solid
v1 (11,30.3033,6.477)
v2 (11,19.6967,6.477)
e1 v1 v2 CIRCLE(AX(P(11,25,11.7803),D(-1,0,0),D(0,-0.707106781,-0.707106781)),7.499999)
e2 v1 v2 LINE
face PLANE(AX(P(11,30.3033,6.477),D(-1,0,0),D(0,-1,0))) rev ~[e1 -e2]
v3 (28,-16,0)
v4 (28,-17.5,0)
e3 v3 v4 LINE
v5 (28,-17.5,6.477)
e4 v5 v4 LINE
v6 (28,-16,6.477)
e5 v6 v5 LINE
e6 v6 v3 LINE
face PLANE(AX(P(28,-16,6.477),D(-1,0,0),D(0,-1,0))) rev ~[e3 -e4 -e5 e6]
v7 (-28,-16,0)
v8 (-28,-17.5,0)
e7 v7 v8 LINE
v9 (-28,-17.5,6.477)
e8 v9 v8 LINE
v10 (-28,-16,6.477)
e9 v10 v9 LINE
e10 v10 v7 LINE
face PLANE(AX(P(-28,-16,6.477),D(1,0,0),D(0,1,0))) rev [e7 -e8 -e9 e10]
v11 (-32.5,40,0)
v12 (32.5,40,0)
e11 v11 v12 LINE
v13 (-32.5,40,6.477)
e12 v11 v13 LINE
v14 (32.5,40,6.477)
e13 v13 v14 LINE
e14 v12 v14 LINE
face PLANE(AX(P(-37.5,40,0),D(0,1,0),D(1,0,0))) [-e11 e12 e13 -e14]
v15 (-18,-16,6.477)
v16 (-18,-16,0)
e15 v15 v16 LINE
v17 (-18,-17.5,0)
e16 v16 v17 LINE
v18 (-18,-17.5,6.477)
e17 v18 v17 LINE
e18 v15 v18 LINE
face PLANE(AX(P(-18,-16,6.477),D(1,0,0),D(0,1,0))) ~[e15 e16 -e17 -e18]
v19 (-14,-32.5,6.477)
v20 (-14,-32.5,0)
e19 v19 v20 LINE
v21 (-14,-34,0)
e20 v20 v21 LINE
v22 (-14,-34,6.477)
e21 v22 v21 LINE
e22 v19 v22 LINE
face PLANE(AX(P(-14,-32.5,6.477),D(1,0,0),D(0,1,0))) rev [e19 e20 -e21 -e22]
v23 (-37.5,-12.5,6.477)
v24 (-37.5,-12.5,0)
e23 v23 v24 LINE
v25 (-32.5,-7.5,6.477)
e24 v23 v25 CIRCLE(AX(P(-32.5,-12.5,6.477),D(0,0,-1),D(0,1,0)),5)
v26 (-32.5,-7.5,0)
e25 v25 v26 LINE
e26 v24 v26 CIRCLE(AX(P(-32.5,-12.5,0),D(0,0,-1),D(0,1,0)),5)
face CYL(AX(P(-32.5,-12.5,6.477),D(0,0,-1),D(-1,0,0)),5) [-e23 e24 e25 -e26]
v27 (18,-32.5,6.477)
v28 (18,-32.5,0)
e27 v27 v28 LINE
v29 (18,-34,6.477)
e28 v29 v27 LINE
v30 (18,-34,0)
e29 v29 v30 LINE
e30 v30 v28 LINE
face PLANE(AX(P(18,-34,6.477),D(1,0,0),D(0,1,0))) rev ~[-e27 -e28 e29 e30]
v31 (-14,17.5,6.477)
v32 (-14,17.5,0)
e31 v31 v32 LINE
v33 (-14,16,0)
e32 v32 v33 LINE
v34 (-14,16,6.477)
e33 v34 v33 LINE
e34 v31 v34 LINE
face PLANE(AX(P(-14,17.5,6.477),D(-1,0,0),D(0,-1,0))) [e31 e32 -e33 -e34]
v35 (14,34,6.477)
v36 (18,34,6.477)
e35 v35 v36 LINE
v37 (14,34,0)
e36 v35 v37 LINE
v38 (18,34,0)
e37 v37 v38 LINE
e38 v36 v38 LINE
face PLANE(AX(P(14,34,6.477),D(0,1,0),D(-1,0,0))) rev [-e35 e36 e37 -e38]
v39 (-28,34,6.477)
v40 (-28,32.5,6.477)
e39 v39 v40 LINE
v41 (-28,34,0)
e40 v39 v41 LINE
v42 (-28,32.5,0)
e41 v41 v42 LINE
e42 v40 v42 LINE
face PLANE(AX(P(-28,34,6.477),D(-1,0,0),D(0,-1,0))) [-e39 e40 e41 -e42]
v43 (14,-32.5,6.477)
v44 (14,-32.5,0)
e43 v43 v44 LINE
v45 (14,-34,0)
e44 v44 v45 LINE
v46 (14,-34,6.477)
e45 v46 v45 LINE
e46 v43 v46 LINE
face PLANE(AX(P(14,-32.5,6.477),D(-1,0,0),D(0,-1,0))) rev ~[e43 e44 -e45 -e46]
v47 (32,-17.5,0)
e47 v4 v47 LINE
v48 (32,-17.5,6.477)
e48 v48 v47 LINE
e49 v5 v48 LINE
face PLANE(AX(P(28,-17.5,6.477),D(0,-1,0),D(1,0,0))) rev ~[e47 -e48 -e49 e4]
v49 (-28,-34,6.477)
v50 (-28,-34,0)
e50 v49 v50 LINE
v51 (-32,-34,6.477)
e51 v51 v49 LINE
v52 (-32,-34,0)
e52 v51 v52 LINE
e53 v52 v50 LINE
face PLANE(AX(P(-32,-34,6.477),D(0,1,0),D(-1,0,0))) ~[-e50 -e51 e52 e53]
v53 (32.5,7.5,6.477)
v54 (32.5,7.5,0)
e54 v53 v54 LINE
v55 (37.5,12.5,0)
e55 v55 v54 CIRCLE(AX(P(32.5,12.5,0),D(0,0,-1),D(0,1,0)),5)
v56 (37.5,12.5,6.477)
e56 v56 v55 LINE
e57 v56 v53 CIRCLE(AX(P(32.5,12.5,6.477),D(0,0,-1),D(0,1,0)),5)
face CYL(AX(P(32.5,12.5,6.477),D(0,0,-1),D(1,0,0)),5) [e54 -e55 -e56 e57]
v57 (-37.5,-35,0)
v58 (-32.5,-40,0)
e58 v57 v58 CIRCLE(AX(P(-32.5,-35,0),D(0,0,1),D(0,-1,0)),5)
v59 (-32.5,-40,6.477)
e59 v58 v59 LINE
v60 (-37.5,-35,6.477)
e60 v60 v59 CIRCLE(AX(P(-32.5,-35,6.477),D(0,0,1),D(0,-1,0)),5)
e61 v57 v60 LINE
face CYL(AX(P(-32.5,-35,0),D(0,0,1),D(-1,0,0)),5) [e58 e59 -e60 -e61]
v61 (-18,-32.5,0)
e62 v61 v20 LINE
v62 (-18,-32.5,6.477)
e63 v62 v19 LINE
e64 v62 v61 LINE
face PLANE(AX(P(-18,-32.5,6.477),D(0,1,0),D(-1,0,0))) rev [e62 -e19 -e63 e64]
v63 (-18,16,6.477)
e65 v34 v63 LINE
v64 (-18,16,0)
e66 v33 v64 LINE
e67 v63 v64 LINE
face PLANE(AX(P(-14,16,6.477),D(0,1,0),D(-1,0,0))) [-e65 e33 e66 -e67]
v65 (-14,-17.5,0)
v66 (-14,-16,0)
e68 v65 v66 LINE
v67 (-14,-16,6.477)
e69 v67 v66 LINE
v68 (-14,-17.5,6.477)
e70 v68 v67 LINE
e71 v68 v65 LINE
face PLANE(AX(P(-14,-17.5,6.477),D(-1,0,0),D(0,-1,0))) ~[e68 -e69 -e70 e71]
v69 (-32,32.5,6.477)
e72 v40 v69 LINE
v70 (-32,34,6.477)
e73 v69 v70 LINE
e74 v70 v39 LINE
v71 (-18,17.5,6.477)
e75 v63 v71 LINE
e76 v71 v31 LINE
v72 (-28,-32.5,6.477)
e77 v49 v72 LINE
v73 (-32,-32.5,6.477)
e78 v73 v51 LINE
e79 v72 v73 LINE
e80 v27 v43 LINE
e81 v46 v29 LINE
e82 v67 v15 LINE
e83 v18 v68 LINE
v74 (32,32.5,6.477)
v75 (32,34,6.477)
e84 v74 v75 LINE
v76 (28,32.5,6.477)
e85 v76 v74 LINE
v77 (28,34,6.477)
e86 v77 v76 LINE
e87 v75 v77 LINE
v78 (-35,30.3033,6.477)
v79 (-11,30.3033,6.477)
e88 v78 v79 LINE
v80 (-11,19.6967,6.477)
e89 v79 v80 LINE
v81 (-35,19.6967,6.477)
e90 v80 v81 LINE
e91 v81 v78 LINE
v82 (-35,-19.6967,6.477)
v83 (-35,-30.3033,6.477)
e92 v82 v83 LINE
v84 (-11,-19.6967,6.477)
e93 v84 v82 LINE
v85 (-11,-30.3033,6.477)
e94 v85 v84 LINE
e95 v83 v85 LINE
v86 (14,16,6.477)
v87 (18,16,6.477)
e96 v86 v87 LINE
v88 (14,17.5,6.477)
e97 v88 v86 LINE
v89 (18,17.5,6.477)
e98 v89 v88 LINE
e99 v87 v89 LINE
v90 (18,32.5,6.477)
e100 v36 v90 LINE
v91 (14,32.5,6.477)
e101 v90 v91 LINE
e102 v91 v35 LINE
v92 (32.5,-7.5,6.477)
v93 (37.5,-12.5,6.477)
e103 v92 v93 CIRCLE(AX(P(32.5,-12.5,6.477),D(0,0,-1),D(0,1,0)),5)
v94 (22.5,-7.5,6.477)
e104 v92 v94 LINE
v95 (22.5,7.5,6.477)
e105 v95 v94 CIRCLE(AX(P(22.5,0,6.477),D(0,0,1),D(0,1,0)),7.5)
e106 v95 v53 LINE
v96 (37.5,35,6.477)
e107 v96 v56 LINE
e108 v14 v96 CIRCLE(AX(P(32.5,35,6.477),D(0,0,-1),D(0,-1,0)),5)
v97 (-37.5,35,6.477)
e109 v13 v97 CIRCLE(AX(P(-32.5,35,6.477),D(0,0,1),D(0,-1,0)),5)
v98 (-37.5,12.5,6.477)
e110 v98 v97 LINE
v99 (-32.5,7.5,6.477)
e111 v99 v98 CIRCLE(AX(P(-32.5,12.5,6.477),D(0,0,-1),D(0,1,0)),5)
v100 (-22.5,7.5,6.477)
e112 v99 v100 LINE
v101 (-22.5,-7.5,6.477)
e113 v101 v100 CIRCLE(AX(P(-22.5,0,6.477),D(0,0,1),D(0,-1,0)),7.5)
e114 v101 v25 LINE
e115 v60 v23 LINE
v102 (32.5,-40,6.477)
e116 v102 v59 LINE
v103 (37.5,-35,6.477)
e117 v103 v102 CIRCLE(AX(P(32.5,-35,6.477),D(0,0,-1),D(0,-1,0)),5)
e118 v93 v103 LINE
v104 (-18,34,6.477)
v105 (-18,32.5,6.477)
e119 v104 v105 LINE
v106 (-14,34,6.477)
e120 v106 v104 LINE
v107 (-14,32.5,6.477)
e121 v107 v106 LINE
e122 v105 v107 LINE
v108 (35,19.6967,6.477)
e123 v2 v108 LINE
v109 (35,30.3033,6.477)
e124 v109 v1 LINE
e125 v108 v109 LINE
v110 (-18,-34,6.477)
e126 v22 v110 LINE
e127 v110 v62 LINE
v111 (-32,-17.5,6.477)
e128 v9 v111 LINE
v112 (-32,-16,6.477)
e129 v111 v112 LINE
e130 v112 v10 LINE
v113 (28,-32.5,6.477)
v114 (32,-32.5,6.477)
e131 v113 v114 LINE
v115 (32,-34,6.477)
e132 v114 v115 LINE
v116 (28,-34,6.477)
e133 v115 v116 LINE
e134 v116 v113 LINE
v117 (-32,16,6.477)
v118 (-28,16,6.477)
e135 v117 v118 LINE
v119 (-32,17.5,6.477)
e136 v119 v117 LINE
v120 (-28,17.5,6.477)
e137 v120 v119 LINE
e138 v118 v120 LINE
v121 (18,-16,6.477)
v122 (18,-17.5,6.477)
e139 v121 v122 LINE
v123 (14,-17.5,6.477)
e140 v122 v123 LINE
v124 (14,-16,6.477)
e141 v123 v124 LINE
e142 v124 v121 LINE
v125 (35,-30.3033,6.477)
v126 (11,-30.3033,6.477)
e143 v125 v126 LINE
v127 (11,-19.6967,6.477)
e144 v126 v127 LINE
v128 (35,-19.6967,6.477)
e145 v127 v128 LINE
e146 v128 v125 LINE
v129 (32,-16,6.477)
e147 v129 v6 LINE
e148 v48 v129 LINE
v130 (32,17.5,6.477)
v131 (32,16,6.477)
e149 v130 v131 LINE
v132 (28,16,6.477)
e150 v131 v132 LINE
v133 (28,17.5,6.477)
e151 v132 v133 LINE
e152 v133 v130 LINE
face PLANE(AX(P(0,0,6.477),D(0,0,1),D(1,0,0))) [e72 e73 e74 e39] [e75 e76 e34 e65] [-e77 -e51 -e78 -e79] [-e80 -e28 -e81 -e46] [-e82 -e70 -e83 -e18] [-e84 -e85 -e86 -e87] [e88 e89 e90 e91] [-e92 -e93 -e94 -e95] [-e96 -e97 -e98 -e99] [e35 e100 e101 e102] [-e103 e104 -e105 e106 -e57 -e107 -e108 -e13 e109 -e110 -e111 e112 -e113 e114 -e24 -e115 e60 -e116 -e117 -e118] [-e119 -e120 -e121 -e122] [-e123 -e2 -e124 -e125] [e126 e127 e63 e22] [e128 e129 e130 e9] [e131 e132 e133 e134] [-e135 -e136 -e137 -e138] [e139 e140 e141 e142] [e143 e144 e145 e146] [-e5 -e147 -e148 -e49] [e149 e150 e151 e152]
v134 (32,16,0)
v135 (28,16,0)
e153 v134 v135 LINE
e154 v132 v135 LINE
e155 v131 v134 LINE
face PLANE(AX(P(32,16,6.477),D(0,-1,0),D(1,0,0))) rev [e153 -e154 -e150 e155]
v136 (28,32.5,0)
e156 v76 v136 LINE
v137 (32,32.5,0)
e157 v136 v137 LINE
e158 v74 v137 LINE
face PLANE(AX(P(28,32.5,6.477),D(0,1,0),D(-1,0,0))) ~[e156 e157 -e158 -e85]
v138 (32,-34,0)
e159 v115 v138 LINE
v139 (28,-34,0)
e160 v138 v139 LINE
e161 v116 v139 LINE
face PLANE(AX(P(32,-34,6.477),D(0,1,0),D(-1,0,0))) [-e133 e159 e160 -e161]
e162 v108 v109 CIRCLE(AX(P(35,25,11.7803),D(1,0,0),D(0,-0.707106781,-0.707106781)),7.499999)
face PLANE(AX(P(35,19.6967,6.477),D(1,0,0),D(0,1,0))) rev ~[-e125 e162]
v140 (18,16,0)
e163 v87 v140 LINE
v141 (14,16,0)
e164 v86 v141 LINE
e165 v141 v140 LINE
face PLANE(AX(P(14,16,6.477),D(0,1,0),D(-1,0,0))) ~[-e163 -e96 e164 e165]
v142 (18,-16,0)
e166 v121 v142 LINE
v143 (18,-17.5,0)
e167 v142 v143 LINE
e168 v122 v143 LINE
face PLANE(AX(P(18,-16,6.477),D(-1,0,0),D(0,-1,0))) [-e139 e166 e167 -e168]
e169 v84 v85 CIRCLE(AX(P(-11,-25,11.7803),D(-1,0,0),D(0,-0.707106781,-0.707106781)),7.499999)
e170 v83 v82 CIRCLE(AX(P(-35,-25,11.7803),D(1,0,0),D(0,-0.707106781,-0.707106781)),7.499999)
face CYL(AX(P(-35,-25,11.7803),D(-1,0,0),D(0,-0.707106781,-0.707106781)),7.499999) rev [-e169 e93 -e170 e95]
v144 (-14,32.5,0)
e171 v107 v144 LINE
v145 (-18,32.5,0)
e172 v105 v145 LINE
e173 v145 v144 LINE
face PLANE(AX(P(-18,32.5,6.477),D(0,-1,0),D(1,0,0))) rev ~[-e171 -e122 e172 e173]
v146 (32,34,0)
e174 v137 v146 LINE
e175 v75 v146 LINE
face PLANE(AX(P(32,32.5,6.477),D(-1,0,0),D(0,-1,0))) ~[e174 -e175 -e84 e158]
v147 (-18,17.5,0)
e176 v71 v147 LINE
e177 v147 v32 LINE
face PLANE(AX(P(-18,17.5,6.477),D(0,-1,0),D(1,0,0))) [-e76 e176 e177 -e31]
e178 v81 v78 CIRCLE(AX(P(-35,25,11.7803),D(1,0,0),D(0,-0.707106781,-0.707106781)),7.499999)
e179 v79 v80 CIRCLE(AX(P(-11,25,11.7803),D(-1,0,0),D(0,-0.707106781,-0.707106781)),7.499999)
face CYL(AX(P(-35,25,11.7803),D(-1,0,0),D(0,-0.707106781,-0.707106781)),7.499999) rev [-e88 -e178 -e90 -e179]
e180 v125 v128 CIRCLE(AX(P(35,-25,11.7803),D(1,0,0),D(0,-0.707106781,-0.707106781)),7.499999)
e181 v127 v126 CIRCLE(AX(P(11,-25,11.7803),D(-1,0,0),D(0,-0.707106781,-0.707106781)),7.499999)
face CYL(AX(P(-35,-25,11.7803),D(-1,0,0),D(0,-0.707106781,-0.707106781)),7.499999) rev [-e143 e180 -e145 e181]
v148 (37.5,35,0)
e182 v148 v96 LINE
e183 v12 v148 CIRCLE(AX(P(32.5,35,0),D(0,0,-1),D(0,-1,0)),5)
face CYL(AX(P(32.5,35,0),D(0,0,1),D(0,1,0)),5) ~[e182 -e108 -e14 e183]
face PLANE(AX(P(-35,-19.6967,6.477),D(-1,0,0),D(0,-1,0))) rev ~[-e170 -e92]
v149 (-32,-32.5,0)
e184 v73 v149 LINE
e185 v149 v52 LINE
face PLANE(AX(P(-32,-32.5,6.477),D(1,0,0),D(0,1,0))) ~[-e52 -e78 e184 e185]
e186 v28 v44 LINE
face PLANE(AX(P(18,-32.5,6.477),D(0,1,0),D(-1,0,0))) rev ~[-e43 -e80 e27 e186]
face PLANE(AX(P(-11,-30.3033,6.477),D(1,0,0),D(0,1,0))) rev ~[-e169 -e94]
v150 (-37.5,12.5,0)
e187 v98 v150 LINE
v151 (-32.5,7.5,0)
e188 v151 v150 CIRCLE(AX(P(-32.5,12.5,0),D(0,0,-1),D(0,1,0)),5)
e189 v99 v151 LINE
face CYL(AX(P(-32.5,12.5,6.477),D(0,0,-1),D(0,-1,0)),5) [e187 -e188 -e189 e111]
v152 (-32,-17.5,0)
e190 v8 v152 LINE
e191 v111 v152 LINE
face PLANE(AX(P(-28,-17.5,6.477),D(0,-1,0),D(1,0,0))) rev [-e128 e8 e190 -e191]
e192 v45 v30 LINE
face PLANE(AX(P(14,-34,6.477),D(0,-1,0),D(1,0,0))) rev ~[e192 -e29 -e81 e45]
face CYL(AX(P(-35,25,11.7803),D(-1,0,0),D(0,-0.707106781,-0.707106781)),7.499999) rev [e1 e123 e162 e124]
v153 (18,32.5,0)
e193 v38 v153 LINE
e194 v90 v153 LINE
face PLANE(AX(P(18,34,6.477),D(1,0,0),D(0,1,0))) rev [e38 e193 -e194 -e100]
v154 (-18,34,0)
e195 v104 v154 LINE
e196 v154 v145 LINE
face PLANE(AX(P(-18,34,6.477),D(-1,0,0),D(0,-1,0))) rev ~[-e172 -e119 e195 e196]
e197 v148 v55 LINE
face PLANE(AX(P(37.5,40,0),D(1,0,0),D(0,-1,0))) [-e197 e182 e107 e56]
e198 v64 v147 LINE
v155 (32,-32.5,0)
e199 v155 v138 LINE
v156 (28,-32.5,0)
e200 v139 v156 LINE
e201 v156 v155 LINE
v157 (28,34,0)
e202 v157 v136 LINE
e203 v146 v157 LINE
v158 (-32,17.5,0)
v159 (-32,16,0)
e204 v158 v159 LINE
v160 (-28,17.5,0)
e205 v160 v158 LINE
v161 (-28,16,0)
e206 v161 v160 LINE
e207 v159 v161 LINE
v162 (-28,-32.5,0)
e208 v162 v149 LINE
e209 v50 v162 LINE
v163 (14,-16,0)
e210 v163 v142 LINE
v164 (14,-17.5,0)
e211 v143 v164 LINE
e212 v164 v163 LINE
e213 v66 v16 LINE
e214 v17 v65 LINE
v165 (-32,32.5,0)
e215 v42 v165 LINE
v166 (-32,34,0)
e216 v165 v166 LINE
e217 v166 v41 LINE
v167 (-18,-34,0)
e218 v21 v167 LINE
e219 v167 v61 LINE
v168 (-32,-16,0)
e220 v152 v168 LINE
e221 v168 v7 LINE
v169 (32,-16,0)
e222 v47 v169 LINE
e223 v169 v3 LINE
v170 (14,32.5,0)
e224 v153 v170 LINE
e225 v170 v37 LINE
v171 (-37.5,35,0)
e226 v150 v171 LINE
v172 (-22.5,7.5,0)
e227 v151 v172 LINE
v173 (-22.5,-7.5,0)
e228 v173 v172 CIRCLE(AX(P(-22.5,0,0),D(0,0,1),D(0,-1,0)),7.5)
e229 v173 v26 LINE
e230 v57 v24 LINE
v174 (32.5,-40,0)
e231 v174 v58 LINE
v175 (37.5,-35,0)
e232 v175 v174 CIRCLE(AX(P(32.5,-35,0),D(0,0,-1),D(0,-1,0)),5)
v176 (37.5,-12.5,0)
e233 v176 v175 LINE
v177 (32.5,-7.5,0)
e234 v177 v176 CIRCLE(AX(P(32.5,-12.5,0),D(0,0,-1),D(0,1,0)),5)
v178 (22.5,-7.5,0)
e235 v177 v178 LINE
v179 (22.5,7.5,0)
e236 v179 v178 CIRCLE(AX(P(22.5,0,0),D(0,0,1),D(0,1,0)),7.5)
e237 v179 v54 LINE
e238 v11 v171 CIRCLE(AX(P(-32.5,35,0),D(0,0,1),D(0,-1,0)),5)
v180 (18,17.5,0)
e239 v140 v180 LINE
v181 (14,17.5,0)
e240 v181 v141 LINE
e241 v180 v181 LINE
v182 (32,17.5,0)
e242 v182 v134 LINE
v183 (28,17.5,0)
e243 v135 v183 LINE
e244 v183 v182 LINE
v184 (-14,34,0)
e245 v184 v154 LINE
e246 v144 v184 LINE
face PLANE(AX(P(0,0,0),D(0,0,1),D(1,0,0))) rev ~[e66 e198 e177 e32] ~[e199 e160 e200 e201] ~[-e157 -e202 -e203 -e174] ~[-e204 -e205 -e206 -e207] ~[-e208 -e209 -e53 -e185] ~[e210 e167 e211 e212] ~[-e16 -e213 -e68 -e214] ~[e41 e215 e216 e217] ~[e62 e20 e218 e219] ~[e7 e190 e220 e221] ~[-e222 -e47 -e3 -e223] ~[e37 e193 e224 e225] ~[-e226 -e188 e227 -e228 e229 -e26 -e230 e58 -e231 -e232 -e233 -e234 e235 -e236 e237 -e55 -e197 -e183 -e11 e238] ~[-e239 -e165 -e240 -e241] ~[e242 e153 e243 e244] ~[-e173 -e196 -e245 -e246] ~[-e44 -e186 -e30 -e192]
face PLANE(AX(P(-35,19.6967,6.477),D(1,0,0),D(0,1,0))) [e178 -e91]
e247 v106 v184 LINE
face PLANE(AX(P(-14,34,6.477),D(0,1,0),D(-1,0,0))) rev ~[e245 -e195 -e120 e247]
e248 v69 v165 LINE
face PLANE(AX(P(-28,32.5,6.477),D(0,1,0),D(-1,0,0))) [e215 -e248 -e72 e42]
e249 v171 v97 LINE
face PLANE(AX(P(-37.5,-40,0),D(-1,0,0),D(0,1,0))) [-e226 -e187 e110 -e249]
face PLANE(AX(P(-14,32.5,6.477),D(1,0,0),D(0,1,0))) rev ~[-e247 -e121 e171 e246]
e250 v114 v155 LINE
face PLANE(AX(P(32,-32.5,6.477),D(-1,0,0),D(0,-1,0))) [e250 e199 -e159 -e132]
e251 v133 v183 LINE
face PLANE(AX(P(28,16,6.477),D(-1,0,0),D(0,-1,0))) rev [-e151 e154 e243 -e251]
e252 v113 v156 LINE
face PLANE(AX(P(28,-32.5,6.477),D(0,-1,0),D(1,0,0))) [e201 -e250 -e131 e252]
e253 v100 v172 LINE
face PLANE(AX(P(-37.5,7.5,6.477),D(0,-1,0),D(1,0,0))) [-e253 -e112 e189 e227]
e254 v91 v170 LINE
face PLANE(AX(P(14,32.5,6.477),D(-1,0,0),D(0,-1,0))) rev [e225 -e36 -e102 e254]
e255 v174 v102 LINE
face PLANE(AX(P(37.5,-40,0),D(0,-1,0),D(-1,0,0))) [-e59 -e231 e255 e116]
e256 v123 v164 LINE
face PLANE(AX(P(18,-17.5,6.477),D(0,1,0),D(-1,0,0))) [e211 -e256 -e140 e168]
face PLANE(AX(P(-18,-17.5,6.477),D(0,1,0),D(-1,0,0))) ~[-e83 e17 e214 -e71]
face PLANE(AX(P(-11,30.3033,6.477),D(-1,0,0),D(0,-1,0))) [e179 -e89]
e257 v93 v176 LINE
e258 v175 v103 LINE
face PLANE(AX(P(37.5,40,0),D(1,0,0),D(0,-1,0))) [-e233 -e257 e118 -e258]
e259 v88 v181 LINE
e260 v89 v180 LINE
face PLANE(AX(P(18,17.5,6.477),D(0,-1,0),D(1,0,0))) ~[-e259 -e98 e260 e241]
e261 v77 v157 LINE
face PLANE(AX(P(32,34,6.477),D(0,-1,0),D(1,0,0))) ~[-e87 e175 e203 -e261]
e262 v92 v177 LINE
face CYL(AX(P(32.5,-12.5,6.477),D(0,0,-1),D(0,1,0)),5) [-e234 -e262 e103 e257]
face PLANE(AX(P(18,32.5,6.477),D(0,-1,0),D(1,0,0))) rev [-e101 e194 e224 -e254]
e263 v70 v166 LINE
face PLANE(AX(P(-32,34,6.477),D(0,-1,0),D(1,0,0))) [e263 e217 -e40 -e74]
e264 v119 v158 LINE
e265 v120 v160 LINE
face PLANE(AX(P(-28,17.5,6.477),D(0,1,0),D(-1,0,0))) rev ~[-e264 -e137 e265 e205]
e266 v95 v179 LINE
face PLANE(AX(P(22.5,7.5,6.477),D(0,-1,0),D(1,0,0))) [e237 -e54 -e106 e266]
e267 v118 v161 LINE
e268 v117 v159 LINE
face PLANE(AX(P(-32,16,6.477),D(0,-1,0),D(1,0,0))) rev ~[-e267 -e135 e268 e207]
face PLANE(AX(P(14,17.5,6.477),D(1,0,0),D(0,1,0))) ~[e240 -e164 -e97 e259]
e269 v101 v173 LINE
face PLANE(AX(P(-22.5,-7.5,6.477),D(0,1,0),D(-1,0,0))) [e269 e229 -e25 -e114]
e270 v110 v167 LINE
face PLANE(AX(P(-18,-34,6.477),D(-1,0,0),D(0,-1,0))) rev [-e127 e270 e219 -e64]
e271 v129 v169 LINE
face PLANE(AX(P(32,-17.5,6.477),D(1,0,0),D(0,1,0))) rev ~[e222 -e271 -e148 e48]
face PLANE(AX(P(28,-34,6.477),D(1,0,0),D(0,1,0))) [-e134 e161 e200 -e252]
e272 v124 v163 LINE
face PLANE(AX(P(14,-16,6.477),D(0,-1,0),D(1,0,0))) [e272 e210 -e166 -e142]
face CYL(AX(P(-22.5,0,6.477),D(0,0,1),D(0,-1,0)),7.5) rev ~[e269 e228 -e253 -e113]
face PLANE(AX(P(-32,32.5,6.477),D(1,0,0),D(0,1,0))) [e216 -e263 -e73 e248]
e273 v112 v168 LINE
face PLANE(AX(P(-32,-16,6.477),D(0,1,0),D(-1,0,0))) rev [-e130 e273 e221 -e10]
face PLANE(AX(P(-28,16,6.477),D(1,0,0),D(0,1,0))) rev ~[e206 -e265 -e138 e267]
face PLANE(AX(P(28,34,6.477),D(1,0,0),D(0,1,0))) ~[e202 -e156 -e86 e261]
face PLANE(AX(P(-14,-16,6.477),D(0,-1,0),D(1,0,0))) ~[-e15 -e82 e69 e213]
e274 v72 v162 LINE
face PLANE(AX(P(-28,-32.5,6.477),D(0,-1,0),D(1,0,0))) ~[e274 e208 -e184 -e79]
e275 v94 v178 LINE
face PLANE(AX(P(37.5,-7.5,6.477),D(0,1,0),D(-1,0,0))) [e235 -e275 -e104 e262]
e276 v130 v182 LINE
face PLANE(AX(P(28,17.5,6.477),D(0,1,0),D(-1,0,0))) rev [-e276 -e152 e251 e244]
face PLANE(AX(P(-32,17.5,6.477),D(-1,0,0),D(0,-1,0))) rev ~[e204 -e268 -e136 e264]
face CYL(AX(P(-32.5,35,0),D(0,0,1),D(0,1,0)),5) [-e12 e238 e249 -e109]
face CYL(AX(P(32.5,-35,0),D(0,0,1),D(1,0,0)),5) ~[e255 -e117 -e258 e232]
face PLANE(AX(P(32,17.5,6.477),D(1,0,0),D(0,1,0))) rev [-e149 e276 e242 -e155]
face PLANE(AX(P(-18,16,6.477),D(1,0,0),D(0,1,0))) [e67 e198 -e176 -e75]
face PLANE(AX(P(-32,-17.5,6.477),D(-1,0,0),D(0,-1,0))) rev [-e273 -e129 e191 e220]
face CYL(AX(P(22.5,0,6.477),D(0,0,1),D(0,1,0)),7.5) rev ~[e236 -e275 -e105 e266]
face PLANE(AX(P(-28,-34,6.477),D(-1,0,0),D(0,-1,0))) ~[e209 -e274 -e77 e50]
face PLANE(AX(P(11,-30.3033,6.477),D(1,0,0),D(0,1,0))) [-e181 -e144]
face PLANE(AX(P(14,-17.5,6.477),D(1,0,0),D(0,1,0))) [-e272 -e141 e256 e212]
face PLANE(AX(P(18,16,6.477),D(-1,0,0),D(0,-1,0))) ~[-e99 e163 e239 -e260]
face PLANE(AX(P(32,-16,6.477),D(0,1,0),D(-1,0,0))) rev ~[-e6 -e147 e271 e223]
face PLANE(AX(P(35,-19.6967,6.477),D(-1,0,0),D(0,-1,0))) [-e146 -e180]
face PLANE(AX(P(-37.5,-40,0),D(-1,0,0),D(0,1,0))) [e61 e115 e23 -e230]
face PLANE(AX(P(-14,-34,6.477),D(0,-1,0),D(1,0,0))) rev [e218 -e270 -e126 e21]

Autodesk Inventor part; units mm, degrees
ref_plane "YZ Plane" through (0, 0, 0) normal (1, 0, 0) x (0, 1, 0)
ref_plane "XZ Plane" through (0, 0, 0) normal (0, 1, 0) x (-1, 0, 0)
ref_plane "XY Plane" through (0, 0, 0) normal (0, 0, 1) x (1, 0, 0)
sketch "Sketch1" plane through (0, 0, 0) normal (0, 0, 1) x (1, 0, 0)
  line L0 (-37.5, 40) -> (37.5, 40)
  line L1 (37.5, 40) -> (37.5, -40)
  line L2 (37.5, -40) -> (-37.5, -40)
  line L3 (-37.5, -40) -> (-37.5, 40)
  point P0 (0, 0)
  point P1 (37.5, 0)
  point P2 (0, 40)
  dimension "d0" = 75
  dimension "d2" = 80
extrude "Extrusion1" add sketch "Sketch1" along normal blind 6.477
sketch "Sketch2" plane through (0, 0, 6.477) normal (0, 0, 1) x (1, 0, 0)
  line L0 (-37.5, 40) -> (-37.5, -40) projected
  line L1 (-11, 19.6967) -> (11, 19.6967) construction
  line L2 (11, 19.6967) -> (11, -19.6967) construction
  line L3 (11, -19.6967) -> (-11, -19.6967) construction
  line L4 (-11, -19.6967) -> (-11, 19.6967) construction
  line L5 (-11, 19.6967) -> (-35, 19.6967)
  line L6 (-35, 19.6967) -> (-35, 30.3033)
  line L7 (-35, 30.3033) -> (-11, 30.3033)
  line L8 (-11, 30.3033) -> (-11, 19.6967)
  line L9 (11, 19.6967) -> (35, 19.6967)
  line L10 (35, 19.6967) -> (35, 30.3033)
  line L11 (35, 30.3033) -> (11, 30.3033)
  line L12 (11, 30.3033) -> (11, 19.6967)
  line L13 (-11, -19.6967) -> (-35, -19.6967)
  line L14 (-35, -19.6967) -> (-35, -30.3033)
  line L15 (-35, -30.3033) -> (-11, -30.3033)
  line L16 (-11, -30.3033) -> (-11, -19.6967)
  line L17 (11, -19.6967) -> (35, -19.6967)
  line L18 (35, -19.6967) -> (35, -30.3033)
  line L19 (35, -30.3033) -> (11, -30.3033)
  line L20 (11, -30.3033) -> (11, -19.6967)
  circle A0 centre (-11, 25) radius 7.5 construction
  line L21 (-11, 25) -> (-5.6967, 19.6967) construction
  point P0 (0, 0)
  point P1 (-11, 0)
  point P2 (0, 19.6967)
  dimension "d11" = 15
  dimension "d5" = 50
  dimension "d7" = 24
  dimension "d9" = 2.5
  dimension "d10" = 45
extrude "Extrusion2" cut sketch "Sketch2" against normal through all
sketch "Sketch3" plane through (-35, 19.6967, 6.477) normal (1, 0, 0) x (0, 0, -1)
  line L0 (6.477, 10.6066) -> (6.477, 0) projected
  line L1 (0, 10.6066) -> (6.477, 10.6066) projected
  line L2 (0, 0) -> (0, 10.6066) projected
  line L3 (0, 0) -> (6.477, 0) projected
  line L4 (6.477, -39.3934) -> (6.477, -50) projected
  line L5 (0, -39.3934) -> (6.477, -39.3934) projected
  line L6 (0, -50) -> (0, -39.3934) projected
  line L7 (0, -50) -> (6.477, -50) projected
  arc A0 (0, 0) -> (0, 10.6066) centre (-5.3033, 5.3033) ccw
  arc A1 (0, -50) -> (0, -39.3934) centre (-5.3033, -44.6967) ccw
  point P0 (6.477, -19.6967)
  dimension "d14" = 15
extrude "Extrusion3" add sketch "Sketch3" along normal up to surface (70 mm away) contours L0 L3 A0 L1 | L4 L7 A1 L5
sketch "Sketch4" plane through (0, 0, 6.477) normal (0, 0, 1) x (1, 0, 0)
  line L0 (-35, 19.6967) -> (-35, 30.3033) projected
  line L1 (-35, 30.3033) -> (-11, 30.3033) projected
  line L2 (-11, 30.3033) -> (-11, 19.6967) projected
  line L3 (-28, 32.5) -> (-18, 32.5) construction
  line L4 (-18, 32.5) -> (-18, 17.5) construction
  line L5 (-18, 17.5) -> (-28, 17.5) construction
  line L6 (-28, 17.5) -> (-28, 32.5) construction
  line L7 (-28, 32.5) -> (-32, 32.5)
  line L8 (-32, 32.5) -> (-32, 34)
  line L9 (-32, 34) -> (-28, 34)
  line L10 (-28, 34) -> (-28, 32.5)
  line L11 (-18, 32.5) -> (-14, 32.5)
  line L12 (-14, 32.5) -> (-14, 34)
  line L13 (-14, 34) -> (-18, 34)
  line L14 (-18, 34) -> (-18, 32.5)
  line L15 (-18, 17.5) -> (-14, 17.5)
  line L16 (-14, 17.5) -> (-14, 16)
  line L17 (-14, 16) -> (-18, 16)
  line L18 (-18, 16) -> (-18, 17.5)
  line L19 (-28, 17.5) -> (-32, 17.5)
  line L20 (-32, 17.5) -> (-32, 16)
  line L21 (-32, 16) -> (-28, 16)
  line L22 (-28, 16) -> (-28, 17.5)
  point P0 (0, 0)
  point P1 (-23, 32.5)
  point P2 (-23, 30.3033)
  point P3 (-18, 25)
  point P4 (-11, 25)
  point P5 (-30, 34)
  dimension "d18" = 5
  dimension "d19" = 15
  dimension "d20" = 4
  dimension "d21" = 1.5
extrude "Extrusion4" cut sketch "Sketch4" against normal through all
mirror "Mirror1" about plane through (0, 0, 0) normal (1, 0, 0) of "Extrusion4"
mirror "Mirror2" about plane through (0, 0, 0) normal (0, 1, 0) of "Extrusion4", "Mirror1"
fillet "Fillet1" radius 5 4 edges at (-37.5, 40, 3.2385) (-37.5, -40, 3.2385) (37.5, -40, 3.2385) (37.5, 40, 3.2385)
sketch "Sketch6" plane through (0, 0, 6.477) normal (0, 0, 1) x (1, 0, 0)
  line L0 (-37.5, 35) -> (-37.5, -35) projected
  line L1 (37.5, -35) -> (37.5, 35) projected
  line L2 (-11, -19.6967) -> (-11, -30.3033) projected
  line L3 (-37.5, 7.5) -> (-22.5, 7.5)
  arc A0 (-22.5, -7.5) -> (-22.5, 7.5) centre (-22.5, 0) ccw
  line L4 (-22.5, -7.5) -> (-37.5, -7.5)
  line L5 (37.5, -7.5) -> (22.5, -7.5)
  arc A1 (22.5, 7.5) -> (22.5, -7.5) centre (22.5, 0) ccw
  line L6 (22.5, 7.5) -> (37.5, 7.5)
  point P0 (0, 0)
  dimension "d31" = 7.5
  dimension "d33" = 15
extrude "Extrusion6" cut sketch "Sketch6" against normal through all
fillet "Fillet3" radius 5 4 edges at (-37.5, -7.5, 3.2385) (-37.5, 7.5, 3.2385) (37.5, 7.5, 3.2385) (37.5, -7.5, 3.2385)
properties part number "EFFECTOR BEARING PLATE"
